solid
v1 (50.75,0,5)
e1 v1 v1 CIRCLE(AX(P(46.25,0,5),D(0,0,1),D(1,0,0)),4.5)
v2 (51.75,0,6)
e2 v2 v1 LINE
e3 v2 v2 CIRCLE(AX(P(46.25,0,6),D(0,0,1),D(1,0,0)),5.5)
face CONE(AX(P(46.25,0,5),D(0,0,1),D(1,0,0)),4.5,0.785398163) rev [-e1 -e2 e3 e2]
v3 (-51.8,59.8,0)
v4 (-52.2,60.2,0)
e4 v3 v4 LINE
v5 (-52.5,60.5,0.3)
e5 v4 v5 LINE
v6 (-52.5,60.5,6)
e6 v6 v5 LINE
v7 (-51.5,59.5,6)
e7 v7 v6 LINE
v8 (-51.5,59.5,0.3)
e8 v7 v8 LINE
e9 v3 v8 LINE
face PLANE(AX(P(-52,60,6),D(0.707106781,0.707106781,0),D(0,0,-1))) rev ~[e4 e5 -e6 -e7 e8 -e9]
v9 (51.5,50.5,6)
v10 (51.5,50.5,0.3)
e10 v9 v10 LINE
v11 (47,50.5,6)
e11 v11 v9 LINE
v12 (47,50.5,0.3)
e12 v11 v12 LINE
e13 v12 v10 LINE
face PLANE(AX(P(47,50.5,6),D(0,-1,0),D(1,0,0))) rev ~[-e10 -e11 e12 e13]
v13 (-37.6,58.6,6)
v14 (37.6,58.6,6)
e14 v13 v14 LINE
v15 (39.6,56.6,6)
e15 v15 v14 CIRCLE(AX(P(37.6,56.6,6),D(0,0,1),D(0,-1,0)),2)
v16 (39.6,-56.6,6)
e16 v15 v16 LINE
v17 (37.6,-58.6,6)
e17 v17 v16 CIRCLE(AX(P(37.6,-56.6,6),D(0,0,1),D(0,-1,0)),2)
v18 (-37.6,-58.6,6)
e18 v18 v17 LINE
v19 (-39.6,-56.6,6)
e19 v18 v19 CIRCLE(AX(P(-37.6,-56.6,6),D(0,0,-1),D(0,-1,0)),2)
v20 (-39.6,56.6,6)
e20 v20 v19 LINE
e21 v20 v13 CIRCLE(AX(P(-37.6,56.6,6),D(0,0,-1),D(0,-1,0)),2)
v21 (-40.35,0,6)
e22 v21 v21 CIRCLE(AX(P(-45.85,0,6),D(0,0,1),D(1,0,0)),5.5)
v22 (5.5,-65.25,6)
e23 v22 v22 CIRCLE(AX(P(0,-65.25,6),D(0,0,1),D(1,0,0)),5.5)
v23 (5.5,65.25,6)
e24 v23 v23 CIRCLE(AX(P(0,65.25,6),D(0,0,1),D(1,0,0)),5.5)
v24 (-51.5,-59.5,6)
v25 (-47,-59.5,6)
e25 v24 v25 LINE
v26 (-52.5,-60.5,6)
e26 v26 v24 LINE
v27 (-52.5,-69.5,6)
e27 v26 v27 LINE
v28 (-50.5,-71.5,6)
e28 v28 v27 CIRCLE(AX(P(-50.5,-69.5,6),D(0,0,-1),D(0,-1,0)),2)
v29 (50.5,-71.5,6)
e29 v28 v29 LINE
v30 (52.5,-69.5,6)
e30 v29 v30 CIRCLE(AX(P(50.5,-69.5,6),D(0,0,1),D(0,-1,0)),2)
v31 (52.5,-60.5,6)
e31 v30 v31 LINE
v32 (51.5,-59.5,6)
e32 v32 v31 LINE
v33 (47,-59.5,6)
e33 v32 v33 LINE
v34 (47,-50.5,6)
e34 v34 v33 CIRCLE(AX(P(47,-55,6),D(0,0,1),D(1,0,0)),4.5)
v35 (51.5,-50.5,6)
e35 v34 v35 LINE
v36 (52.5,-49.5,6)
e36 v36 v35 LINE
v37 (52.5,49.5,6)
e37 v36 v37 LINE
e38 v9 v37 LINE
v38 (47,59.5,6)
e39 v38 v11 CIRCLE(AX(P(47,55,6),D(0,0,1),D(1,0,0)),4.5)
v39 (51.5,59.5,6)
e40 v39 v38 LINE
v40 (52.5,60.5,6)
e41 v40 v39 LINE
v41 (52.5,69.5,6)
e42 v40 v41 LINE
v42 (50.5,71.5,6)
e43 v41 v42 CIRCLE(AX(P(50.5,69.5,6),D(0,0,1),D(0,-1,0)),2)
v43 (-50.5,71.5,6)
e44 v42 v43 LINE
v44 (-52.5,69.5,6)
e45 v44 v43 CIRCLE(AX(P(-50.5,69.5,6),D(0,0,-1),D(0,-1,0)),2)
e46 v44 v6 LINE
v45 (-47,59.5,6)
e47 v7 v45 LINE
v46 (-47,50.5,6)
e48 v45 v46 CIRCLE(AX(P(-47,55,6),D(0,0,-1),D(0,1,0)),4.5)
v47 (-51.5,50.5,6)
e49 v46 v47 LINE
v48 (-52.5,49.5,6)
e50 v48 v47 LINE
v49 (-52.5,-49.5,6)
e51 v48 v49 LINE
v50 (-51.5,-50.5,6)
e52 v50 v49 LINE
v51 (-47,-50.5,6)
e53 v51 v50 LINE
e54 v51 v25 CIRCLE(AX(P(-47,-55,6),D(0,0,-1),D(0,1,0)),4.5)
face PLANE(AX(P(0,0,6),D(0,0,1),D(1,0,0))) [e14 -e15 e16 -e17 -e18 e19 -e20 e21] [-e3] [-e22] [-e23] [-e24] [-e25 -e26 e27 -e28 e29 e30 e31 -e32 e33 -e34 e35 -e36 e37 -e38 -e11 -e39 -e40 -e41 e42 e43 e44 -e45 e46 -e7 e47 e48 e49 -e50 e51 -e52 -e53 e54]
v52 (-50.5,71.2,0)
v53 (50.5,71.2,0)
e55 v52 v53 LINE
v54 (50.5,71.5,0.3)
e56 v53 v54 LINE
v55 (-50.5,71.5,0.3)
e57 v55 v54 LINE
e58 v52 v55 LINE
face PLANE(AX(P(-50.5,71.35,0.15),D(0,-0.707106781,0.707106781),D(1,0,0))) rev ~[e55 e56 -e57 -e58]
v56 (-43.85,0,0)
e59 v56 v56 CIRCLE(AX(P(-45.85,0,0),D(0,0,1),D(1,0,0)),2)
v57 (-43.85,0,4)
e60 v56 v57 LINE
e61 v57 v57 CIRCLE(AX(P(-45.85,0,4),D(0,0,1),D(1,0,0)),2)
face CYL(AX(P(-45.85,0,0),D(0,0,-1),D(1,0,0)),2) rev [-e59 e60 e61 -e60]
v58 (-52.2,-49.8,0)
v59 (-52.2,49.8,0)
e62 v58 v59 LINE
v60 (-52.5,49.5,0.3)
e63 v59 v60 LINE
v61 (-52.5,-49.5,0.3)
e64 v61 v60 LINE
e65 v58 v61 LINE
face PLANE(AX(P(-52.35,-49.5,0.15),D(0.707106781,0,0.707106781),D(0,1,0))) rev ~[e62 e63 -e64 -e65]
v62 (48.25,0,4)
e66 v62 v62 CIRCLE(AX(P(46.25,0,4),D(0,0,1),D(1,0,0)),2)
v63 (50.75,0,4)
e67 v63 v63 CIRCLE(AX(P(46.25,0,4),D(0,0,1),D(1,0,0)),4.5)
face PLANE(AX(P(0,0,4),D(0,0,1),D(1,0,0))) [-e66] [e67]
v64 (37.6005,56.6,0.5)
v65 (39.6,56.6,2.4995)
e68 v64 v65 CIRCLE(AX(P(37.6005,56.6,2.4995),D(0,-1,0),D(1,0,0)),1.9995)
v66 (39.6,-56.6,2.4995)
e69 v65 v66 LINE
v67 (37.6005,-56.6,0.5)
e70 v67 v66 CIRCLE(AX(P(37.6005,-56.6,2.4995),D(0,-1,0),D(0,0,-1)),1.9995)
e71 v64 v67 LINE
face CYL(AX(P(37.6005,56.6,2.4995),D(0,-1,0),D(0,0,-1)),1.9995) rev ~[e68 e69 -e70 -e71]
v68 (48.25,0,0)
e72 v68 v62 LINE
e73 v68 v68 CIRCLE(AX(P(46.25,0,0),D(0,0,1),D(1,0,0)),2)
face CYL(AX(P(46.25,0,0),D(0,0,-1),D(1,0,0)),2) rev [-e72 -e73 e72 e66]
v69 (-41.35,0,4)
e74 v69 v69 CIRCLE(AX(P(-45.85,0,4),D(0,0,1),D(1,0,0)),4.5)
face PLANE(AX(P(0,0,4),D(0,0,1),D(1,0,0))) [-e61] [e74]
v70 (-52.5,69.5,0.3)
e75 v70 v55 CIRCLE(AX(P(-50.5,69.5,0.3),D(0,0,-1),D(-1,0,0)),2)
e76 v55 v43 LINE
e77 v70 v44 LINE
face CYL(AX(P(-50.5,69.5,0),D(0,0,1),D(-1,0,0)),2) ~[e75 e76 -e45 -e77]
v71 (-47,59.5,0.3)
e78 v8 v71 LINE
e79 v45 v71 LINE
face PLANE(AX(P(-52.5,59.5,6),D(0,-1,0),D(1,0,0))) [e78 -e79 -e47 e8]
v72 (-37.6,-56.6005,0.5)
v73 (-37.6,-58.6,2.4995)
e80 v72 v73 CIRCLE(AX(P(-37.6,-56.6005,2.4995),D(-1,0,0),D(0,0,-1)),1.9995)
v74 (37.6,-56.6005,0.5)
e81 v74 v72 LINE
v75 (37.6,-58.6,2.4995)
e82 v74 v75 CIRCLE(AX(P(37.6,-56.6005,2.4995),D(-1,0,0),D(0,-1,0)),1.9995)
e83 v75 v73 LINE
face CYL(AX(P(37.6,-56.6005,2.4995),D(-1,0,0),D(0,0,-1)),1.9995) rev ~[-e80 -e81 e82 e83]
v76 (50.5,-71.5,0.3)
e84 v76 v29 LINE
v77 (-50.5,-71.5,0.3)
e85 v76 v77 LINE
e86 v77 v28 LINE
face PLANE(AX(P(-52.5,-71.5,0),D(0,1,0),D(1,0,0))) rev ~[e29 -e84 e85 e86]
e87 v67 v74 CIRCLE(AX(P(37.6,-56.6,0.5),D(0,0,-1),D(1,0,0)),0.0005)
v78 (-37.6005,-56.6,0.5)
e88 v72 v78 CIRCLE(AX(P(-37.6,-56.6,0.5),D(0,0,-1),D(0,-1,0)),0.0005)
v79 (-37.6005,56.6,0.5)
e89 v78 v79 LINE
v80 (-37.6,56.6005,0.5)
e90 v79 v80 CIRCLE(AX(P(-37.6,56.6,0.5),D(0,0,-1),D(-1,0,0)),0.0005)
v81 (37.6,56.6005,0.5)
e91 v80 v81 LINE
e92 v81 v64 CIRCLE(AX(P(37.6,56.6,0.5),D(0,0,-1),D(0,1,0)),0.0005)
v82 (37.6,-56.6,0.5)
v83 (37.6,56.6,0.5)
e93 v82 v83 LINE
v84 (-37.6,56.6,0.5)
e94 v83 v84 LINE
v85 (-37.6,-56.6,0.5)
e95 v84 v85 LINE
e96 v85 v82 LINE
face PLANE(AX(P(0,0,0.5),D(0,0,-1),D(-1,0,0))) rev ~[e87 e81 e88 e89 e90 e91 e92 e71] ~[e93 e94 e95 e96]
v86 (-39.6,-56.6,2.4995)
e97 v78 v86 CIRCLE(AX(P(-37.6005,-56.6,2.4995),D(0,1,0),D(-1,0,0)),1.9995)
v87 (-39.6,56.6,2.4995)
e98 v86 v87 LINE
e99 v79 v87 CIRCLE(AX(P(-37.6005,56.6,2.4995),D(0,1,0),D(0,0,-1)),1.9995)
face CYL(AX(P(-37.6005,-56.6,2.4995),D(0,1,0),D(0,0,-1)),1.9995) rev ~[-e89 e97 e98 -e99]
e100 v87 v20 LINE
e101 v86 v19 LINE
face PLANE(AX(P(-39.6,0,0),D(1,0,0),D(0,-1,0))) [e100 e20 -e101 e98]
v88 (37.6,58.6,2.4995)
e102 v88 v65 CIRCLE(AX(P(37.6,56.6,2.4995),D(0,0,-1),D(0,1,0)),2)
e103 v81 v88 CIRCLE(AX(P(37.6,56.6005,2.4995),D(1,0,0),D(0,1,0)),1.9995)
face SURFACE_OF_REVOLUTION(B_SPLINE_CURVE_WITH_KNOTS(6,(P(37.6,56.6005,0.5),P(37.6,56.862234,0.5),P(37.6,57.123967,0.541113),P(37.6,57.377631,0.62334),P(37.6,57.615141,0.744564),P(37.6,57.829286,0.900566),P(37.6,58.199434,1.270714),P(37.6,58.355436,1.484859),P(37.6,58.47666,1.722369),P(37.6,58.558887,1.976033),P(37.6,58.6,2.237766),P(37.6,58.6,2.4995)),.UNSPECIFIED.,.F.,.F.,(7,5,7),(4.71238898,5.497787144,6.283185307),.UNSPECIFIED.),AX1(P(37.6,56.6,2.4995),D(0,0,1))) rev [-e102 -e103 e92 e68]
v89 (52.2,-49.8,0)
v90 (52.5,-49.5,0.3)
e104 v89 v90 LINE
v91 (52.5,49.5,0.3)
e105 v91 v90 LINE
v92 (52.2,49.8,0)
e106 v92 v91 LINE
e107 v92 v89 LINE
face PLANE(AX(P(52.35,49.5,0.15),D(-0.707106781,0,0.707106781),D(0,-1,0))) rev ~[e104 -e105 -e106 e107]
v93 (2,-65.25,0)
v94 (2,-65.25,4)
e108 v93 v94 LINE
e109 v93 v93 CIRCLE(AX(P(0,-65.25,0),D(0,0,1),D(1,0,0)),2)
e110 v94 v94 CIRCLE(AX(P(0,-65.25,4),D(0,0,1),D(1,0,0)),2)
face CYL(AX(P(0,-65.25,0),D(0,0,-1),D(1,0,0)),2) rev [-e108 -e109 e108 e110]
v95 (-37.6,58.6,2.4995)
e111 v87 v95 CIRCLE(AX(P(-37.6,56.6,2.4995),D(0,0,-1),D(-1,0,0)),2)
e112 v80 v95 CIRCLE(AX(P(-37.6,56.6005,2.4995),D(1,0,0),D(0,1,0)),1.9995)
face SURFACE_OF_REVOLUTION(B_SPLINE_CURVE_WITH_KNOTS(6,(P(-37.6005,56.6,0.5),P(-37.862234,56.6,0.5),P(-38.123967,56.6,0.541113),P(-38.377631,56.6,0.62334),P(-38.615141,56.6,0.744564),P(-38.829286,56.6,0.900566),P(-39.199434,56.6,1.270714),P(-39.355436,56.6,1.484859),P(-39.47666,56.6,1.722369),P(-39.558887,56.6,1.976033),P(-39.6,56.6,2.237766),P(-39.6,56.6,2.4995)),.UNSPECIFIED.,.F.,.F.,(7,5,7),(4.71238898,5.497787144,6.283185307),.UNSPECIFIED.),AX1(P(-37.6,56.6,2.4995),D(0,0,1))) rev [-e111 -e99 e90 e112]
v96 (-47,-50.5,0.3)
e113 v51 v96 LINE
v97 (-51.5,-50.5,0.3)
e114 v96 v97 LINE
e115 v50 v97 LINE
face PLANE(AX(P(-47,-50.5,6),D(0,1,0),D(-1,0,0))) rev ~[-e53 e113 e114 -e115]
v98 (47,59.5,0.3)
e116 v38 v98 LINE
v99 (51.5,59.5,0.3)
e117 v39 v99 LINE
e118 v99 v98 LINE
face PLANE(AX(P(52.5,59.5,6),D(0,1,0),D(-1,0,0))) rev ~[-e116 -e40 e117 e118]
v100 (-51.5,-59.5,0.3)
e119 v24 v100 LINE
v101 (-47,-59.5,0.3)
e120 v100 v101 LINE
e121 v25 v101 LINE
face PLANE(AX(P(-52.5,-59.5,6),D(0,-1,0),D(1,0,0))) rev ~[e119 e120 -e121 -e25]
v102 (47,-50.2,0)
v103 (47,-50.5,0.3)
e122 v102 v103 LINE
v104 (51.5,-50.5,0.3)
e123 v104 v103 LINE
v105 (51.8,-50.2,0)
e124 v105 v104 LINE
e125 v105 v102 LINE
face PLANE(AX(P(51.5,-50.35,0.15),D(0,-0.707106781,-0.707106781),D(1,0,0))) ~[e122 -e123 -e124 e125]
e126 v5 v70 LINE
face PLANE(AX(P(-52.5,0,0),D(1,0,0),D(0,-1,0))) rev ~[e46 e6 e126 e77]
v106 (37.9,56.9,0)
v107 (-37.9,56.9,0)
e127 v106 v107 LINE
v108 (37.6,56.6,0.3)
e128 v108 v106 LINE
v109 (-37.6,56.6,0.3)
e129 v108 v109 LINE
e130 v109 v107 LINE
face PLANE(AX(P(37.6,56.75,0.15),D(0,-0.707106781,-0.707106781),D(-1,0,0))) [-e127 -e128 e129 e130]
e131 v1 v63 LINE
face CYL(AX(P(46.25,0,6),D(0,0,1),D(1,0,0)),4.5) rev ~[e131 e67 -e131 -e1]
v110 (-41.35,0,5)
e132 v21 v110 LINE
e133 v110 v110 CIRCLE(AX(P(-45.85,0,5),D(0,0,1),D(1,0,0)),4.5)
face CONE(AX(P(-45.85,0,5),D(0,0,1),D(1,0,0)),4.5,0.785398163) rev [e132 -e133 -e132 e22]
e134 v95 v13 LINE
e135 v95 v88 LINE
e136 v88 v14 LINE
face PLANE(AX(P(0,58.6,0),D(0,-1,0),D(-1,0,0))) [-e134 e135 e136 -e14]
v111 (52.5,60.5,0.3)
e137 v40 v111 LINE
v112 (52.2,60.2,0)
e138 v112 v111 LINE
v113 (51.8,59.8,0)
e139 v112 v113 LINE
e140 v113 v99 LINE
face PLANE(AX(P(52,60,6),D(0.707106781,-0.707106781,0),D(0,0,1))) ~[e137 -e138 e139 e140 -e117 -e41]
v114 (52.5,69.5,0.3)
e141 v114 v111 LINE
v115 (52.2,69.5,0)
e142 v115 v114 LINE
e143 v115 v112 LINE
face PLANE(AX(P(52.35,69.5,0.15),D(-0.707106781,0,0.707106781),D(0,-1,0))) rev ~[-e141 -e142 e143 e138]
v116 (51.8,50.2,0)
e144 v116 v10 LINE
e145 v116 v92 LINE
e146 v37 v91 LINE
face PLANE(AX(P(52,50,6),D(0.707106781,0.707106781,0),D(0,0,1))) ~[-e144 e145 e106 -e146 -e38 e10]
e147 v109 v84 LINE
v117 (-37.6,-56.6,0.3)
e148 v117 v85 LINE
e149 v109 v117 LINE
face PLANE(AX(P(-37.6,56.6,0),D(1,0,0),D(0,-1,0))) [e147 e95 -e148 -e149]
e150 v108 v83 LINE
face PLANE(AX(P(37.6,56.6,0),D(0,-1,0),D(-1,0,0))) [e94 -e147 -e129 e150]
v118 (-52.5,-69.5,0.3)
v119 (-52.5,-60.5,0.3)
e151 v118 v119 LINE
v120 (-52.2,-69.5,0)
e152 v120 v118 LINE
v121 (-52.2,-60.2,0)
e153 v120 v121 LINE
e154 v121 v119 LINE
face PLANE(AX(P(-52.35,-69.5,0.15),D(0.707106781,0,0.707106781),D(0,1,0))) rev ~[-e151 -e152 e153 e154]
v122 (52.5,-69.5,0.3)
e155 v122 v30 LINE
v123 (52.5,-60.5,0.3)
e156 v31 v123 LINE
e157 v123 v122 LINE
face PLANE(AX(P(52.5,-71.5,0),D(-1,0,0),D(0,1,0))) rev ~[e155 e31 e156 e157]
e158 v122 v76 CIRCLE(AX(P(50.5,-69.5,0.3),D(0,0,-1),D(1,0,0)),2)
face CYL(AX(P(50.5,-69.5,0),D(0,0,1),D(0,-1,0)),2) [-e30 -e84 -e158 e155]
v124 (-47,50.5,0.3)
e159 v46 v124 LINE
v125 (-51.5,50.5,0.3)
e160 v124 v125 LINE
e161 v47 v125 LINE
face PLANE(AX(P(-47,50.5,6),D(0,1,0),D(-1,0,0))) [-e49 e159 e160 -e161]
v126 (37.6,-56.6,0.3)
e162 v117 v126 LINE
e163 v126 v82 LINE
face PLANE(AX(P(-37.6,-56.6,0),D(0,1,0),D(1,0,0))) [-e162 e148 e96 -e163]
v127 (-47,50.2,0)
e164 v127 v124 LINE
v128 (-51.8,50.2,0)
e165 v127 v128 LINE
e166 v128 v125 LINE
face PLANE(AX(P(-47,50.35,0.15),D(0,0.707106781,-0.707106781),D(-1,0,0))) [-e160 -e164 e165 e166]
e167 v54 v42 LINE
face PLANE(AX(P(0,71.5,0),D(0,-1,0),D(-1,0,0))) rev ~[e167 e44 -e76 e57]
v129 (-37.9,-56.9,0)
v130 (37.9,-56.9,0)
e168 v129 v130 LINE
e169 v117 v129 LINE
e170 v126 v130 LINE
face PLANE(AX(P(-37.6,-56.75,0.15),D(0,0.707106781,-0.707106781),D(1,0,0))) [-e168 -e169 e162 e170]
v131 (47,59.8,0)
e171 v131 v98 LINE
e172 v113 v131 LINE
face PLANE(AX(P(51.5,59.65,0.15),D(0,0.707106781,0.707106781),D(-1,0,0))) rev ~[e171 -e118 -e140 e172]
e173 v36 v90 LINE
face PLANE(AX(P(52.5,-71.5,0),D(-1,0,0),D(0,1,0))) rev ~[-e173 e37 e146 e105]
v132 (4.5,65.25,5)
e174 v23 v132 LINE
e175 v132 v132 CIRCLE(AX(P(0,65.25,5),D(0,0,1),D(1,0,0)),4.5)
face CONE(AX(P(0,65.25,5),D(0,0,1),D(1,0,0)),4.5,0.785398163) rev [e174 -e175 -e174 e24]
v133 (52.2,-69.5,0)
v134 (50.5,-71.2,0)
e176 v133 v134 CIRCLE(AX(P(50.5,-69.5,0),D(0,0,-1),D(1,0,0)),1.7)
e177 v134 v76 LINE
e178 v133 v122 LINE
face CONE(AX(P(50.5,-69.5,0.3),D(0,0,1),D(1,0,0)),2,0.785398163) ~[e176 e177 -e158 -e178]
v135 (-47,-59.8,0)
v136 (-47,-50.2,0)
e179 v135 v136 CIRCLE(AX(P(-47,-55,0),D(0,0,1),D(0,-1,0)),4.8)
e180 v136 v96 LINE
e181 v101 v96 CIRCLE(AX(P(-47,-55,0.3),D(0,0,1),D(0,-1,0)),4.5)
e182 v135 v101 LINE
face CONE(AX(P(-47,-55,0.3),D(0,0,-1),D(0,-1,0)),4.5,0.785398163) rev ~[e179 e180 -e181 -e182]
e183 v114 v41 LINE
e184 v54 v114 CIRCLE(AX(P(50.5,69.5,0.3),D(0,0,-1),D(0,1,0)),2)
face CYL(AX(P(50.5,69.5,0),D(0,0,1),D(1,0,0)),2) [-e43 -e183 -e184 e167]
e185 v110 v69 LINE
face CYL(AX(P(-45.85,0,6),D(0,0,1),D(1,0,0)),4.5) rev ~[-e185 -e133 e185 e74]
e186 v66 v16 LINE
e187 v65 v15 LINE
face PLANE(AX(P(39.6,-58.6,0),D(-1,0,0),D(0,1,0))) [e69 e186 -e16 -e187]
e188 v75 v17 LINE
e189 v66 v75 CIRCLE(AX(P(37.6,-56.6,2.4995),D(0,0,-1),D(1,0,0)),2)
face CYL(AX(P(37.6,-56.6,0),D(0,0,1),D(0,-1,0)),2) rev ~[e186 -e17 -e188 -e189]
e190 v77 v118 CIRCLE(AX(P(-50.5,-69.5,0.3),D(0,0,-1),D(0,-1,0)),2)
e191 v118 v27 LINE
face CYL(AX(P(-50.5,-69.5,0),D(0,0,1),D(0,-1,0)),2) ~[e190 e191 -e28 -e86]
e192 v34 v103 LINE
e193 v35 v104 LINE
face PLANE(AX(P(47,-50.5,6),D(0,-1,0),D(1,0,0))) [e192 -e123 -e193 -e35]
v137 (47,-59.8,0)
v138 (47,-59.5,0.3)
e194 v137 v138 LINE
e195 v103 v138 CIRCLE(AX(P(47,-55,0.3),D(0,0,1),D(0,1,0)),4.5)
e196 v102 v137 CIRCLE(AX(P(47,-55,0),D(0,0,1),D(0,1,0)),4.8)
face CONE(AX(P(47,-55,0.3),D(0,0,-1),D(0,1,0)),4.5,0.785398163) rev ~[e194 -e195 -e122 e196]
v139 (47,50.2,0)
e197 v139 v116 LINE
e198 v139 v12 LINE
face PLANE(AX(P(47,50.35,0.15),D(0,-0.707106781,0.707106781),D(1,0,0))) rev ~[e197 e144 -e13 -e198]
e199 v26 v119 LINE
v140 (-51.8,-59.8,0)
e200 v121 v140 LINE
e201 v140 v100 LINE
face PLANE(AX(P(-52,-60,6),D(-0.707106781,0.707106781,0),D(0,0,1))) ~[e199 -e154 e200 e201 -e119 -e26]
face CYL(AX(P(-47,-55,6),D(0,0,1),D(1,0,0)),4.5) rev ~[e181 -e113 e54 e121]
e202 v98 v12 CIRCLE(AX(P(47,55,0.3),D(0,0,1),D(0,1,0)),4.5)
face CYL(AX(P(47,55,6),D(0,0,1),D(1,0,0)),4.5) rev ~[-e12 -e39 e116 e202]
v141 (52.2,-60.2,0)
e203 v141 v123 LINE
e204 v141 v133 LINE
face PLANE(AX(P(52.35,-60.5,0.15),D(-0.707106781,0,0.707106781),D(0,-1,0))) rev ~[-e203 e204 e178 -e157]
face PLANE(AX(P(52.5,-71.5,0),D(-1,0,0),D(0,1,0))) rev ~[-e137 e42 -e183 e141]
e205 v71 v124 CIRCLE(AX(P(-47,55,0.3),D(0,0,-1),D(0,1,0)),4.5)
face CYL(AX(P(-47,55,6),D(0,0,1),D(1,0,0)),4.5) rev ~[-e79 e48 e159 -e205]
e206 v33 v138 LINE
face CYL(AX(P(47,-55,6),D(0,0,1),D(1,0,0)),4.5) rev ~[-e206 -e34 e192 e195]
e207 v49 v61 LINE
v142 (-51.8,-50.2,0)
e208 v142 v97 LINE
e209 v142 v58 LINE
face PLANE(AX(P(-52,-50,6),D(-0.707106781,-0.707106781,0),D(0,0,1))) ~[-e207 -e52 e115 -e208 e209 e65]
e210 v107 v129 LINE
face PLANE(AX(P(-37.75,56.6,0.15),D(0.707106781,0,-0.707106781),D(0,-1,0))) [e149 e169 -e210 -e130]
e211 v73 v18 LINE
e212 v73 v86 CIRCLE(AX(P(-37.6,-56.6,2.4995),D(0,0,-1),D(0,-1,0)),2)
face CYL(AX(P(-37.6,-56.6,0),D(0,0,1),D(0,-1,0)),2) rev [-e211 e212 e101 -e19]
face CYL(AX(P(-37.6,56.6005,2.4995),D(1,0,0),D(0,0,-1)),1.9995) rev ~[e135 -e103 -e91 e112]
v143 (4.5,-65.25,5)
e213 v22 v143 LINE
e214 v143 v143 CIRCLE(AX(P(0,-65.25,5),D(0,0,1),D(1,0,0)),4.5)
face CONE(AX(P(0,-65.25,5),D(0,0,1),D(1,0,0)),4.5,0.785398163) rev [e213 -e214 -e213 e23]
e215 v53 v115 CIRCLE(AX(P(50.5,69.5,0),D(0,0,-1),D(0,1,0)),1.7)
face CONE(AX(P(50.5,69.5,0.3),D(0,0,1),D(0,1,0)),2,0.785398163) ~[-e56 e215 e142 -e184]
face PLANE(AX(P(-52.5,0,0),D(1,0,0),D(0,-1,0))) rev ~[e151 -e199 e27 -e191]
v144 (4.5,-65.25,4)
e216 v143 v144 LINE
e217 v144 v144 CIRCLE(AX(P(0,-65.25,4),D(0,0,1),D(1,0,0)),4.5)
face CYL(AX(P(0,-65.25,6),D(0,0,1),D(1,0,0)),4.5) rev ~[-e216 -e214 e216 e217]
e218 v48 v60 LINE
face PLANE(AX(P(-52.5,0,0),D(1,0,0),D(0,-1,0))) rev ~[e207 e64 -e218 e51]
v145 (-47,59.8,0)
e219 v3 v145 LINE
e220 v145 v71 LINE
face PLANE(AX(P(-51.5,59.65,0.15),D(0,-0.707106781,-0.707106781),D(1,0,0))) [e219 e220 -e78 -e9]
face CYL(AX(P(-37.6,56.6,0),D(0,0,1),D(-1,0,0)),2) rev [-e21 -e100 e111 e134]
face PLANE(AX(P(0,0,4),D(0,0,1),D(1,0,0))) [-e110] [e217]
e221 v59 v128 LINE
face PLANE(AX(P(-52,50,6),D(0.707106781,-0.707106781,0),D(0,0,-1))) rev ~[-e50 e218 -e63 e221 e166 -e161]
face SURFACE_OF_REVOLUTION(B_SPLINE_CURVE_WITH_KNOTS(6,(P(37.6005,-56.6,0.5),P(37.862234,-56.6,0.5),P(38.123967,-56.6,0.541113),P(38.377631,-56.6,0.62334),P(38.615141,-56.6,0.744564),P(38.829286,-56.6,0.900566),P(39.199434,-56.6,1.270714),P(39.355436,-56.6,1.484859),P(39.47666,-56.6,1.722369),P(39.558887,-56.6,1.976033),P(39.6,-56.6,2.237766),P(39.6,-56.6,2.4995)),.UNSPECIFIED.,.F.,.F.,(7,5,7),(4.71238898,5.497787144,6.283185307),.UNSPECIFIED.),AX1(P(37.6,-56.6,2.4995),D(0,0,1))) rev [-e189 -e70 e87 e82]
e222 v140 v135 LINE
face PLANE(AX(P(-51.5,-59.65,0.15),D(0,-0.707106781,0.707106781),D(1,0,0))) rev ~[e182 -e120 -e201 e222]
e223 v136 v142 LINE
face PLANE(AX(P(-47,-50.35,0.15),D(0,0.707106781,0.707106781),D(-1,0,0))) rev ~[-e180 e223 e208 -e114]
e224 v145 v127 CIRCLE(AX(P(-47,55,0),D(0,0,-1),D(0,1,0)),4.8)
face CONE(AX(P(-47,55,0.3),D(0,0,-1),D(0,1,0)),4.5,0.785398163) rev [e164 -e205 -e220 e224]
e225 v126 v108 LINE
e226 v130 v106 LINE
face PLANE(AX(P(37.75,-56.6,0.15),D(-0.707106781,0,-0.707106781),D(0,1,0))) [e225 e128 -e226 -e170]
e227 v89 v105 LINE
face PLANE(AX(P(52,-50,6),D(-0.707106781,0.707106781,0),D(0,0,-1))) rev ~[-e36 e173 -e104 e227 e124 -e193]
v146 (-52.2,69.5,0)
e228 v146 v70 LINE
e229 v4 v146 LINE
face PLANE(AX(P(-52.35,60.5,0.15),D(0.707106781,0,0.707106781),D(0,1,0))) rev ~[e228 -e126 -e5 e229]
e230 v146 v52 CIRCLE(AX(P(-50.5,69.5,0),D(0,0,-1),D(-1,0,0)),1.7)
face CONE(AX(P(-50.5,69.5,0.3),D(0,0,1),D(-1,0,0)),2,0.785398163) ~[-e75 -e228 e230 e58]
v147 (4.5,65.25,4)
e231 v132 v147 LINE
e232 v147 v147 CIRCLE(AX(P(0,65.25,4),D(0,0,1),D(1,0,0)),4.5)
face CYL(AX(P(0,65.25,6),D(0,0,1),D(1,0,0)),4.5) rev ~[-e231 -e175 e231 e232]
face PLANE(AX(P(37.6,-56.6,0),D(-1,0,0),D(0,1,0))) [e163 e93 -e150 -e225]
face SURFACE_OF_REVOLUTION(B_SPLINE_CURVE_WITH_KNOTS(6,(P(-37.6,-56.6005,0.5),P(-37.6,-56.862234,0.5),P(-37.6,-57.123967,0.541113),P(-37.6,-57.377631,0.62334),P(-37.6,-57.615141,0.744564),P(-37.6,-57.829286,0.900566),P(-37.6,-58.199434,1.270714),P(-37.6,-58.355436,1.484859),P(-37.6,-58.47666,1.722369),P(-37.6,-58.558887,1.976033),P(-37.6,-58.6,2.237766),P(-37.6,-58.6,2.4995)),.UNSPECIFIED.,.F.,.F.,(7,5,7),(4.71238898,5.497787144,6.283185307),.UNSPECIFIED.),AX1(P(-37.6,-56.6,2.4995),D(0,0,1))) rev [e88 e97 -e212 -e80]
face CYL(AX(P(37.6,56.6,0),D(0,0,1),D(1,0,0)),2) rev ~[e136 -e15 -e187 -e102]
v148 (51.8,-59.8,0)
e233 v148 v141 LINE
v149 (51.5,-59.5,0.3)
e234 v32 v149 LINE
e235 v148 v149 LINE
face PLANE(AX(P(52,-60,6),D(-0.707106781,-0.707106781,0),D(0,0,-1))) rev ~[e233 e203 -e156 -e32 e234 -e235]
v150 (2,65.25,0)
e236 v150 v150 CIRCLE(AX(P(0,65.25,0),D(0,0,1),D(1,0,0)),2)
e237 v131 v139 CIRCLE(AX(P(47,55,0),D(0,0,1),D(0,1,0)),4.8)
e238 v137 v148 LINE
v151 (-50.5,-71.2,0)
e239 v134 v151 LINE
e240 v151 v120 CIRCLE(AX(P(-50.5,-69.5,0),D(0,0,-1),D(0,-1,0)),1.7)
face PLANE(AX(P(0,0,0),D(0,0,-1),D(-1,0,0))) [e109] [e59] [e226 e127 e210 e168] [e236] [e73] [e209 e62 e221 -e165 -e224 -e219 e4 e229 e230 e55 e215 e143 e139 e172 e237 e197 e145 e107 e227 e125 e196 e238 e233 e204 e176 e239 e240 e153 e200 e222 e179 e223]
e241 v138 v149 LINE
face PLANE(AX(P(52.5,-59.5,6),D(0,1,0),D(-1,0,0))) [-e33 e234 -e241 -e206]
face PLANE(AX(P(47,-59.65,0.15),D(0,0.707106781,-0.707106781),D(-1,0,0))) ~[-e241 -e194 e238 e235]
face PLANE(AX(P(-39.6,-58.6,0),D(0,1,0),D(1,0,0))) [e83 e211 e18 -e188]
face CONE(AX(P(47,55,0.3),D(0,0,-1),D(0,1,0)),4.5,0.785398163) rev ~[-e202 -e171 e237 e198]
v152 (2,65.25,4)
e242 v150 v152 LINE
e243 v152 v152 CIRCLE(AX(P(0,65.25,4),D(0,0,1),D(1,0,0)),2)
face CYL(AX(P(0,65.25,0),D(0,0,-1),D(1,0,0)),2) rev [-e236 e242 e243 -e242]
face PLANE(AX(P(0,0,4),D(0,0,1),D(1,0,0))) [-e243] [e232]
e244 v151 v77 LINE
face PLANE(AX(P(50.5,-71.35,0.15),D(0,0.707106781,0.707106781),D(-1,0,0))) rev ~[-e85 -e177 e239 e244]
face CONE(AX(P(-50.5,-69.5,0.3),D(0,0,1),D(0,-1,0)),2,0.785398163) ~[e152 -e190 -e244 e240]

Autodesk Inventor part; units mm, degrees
ref_plane "YZ Plane" through (0, 0, 0) normal (1, 0, 0) x (0, 1, 0)
ref_plane "XZ Plane" through (0, 0, 0) normal (0, 1, 0) x (-1, 0, 0)
ref_plane "XY Plane" through (0, 0, 0) normal (0, 0, 1) x (1, 0, 0)
sketch "Sketch1" plane through (0, 0, 0) normal (0, 0, 1) x (1, 0, 0)
  line L0 (-39.6, -58.6) -> (39.6, -58.6)
  line L1 (39.6, -58.6) -> (39.6, 58.6)
  line L2 (39.6, 58.6) -> (-39.6, 58.6)
  line L3 (-39.6, 58.6) -> (-39.6, -58.6)
  line L4 (-39.6, -58.6) -> (39.6, 58.6) construction
  line L5 (39.6, -58.6) -> (-39.6, 58.6) construction
  line L6 (-52.5, -71.5) -> (52.5, -71.5)
  line L7 (52.5, -71.5) -> (52.5, 71.5)
  line L8 (52.5, 71.5) -> (-52.5, 71.5)
  line L9 (-52.5, 71.5) -> (-52.5, -71.5)
  line L10 (-52.5, -71.5) -> (52.5, 71.5) construction
  line L11 (52.5, -71.5) -> (-52.5, 71.5) construction
  line L12 (0, 100.1) -> (0, -100.1) projected
  line L13 (-73.5, 0) -> (73.5, 0) projected
  circle A0 centre (-45.85, 0) radius 2
  circle A1 centre (46.25, 0) radius 2
  circle A2 centre (0, 65.25) radius 2
  circle A3 centre (0, -65.25) radius 2
  point P0 (0, 0)
  dimension "d0" = 79.2
  dimension "d1" = 117.2
  dimension "d2" = 105
  dimension "d4" = 12.9
  dimension "d6" = 6.25
  dimension "d7" = 6.25
  dimension "d8" = 6.25
  dimension "d9" = 6.25
  dimension "d10" = 4
  dimension "d11" = 4
  dimension "d12" = 4
  dimension "d40" = 143
  dimension "d41" = 4
extrude "Extrusion1" add sketch "Sketch1" along normal blind 6 contours L0 L12 A3 L6 L9 L13 A0 L3 | L0 L1 L13 A1 L7 L6 L12 A3 | L13 A0 L9 L8 L12 A2 L2 L3 | L1 L2 L12 A2 L8 L7 L13 A1
fillet "Fillet1" radius 2 8 edges at (-39.6, 58.6, 3) (39.6, 58.6, 3) (39.6, -58.6, 3) (-39.6, -58.6, 3) (52.5, 71.5, 3) (-52.5, 71.5, 3) (-52.5, -71.5, 3) (52.5, -71.5, 3)
sketch "Sketch2" plane through (0, 0, 6) normal (0, 0, 1) x (1, 0, 0)
  circle A0 centre (0, 65.25) radius 2 projected
  circle A1 centre (46.25, 0) radius 2 projected
  circle A2 centre (0, -65.25) radius 2 projected
  circle A3 centre (-45.85, 0) radius 2 projected
  circle A4 centre (0, 65.25) radius 4.5
  circle A5 centre (46.25, 0) radius 4.5
  circle A6 centre (0, -65.25) radius 4.5
  circle A7 centre (-45.85, 0) radius 4.5
  point P0 (0, 0)
  dimension "d16" = 9
  dimension "d17" = 9
  dimension "d18" = 9
  dimension "d19" = 9
extrude "Extrusion2" cut sketch "Sketch2" against normal blind 2
chamfer "Chamfer1" distance 1 angle 45 4 edges at (-4.5, 65.25, 6) (-50.35, 0, 6) (41.75, 0, 6) (-4.5, -65.25, 6)
sketch "Sketch3" plane through (0, 0, 6) normal (0, 0, 1) x (1, 0, 0)
  circle A0 centre (-47, -55) radius 4.5
  line L0 (-73.5, 0) -> (73.5, 0) construction
  line L1 (0, 100.1) -> (0, -100.1) construction
  line L2 (-47, -50.5) -> (-52.5, -50.5)
  line L3 (-52.5, 69.5) -> (-52.5, -69.5) construction
  line L4 (-52.5, -50.5) -> (-52.5, -59.5)
  line L5 (-52.5, -59.5) -> (-47, -59.5)
  circle A1 centre (47, -55) radius 4.5
  line L6 (47, -50.5) -> (52.5, -50.5)
  line L7 (52.5, -50.5) -> (52.5, -59.5)
  line L8 (52.5, -59.5) -> (47, -59.5)
  circle A2 centre (-47, 55) radius 4.5
  line L9 (-47, 50.5) -> (-52.5, 50.5)
  line L10 (-52.5, 50.5) -> (-52.5, 59.5)
  line L11 (-52.5, 59.5) -> (-47, 59.5)
  circle A3 centre (47, 55) radius 4.5
  line L12 (47, 50.5) -> (52.5, 50.5)
  line L13 (52.5, 50.5) -> (52.5, 59.5)
  line L14 (52.5, 59.5) -> (47, 59.5)
  point P0 (0, 0)
  dimension "d25" = 9
  dimension "d26" = 55
  dimension "d27" = 47
extrude "Extrusion3" cut sketch "Sketch3" against normal through all
chamfer "Chamfer2" distance 1 angle 45 8 edges at (-52.5, -50.5, 3) (-52.5, -59.5, 3) (52.5, -59.5, 3) (52.5, -50.5, 3) (52.5, 59.5, 3) (52.5, 50.5, 3) (-52.5, 59.5, 3) (-52.5, 50.5, 3)
sketch "Sketch4" plane through (0, 0, 0) normal (0, 0, -1) x (-1, 0, 0)
  line L0 (37.6, 58.6) -> (-37.6, 58.6) projected
  arc A0 (39.6, 56.6) -> (37.6, 58.6) centre (37.6, 56.6) ccw projected
  line L1 (39.6, -56.6) -> (39.6, 56.6) projected
  arc A1 (37.6, -58.6) -> (39.6, -56.6) centre (37.6, -56.6) ccw projected
  line L2 (-37.6, -58.6) -> (37.6, -58.6) projected
  arc A2 (-39.6, -56.6) -> (-37.6, -58.6) centre (-37.6, -56.6) ccw projected
  line L3 (-39.6, 56.6) -> (-39.6, -56.6) projected
  arc A3 (-37.6, 58.6) -> (-39.6, 56.6) centre (-37.6, 56.6) ccw projected
  line L4 (-37.6, 56.6) -> (37.6, 56.6)
  line L5 (37.6, 56.6) -> (37.6, -56.6)
  line L6 (37.6, -56.6) -> (-37.6, -56.6)
  line L7 (-37.6, -56.6) -> (-37.6, 56.6)
  point P0 (0, 0)
  point P1 (37.6, 56.6)
  point P2 (-37.6, -56.6)
  dimension "d33" = 2
extrude "Extrusion4" add sketch "Sketch4" against normal blind 0.5
fillet "Fillet2" radius 2 8 edges at (39.0142, 58.0142, 0.5) (39.6, 0, 0.5) (39.0142, -58.0142, 0.5) (0, -58.6, 0.5) (-39.0142, -58.0142, 0.5) (-39.6, 0, 0.5) (-39.0142, 58.0142, 0.5) (0, 58.6, 0.5)
chamfer "Chamfer3" distance 0.3 angle 45 28 edges at (0, 71.5, 0) (-51.9142, 70.9142, 0) (-52.5, 65, 0) (51.9142, 70.9142, 0) (52.5, 65, 0) (42.5, 55, 0) (49.25, 50.5, 0) (49.25, 59.5, 0) (52.5, 0, 0) (42.5, -55, 0) (49.25, -59.5, 0) (49.25, -50.5, 0) (52.5, -65, 0) (51.9142, -70.9142, 0) (0, -71.5, 0) (-51.9142, -70.9142, 0) (-52.5, -65, 0) (-42.5, -55, 0) (-49.25, -50.5, 0) (-49.25, -59.5, 0) (-52.5, 0, 0) (-49.25, 59.5, 0) (-42.5, 55, 0) (-49.25, 50.5, 0) (0, 56.6, 0) (-37.6, 0, 0) (37.6, 0, 0) (0, -56.6, 0)
equation "\"d7\" = d6"
equation "\"d8\" = d6"
equation "\"d9\" = d6"
equation "\"d11\" = d10"
equation "\"d12\" = d10"
equation "\"d41\" = d11"
equation "\"d17\" = d16"
equation "\"d18\" = d16"
equation "\"d19\" = d18"
properties part number "_3DPrint"
